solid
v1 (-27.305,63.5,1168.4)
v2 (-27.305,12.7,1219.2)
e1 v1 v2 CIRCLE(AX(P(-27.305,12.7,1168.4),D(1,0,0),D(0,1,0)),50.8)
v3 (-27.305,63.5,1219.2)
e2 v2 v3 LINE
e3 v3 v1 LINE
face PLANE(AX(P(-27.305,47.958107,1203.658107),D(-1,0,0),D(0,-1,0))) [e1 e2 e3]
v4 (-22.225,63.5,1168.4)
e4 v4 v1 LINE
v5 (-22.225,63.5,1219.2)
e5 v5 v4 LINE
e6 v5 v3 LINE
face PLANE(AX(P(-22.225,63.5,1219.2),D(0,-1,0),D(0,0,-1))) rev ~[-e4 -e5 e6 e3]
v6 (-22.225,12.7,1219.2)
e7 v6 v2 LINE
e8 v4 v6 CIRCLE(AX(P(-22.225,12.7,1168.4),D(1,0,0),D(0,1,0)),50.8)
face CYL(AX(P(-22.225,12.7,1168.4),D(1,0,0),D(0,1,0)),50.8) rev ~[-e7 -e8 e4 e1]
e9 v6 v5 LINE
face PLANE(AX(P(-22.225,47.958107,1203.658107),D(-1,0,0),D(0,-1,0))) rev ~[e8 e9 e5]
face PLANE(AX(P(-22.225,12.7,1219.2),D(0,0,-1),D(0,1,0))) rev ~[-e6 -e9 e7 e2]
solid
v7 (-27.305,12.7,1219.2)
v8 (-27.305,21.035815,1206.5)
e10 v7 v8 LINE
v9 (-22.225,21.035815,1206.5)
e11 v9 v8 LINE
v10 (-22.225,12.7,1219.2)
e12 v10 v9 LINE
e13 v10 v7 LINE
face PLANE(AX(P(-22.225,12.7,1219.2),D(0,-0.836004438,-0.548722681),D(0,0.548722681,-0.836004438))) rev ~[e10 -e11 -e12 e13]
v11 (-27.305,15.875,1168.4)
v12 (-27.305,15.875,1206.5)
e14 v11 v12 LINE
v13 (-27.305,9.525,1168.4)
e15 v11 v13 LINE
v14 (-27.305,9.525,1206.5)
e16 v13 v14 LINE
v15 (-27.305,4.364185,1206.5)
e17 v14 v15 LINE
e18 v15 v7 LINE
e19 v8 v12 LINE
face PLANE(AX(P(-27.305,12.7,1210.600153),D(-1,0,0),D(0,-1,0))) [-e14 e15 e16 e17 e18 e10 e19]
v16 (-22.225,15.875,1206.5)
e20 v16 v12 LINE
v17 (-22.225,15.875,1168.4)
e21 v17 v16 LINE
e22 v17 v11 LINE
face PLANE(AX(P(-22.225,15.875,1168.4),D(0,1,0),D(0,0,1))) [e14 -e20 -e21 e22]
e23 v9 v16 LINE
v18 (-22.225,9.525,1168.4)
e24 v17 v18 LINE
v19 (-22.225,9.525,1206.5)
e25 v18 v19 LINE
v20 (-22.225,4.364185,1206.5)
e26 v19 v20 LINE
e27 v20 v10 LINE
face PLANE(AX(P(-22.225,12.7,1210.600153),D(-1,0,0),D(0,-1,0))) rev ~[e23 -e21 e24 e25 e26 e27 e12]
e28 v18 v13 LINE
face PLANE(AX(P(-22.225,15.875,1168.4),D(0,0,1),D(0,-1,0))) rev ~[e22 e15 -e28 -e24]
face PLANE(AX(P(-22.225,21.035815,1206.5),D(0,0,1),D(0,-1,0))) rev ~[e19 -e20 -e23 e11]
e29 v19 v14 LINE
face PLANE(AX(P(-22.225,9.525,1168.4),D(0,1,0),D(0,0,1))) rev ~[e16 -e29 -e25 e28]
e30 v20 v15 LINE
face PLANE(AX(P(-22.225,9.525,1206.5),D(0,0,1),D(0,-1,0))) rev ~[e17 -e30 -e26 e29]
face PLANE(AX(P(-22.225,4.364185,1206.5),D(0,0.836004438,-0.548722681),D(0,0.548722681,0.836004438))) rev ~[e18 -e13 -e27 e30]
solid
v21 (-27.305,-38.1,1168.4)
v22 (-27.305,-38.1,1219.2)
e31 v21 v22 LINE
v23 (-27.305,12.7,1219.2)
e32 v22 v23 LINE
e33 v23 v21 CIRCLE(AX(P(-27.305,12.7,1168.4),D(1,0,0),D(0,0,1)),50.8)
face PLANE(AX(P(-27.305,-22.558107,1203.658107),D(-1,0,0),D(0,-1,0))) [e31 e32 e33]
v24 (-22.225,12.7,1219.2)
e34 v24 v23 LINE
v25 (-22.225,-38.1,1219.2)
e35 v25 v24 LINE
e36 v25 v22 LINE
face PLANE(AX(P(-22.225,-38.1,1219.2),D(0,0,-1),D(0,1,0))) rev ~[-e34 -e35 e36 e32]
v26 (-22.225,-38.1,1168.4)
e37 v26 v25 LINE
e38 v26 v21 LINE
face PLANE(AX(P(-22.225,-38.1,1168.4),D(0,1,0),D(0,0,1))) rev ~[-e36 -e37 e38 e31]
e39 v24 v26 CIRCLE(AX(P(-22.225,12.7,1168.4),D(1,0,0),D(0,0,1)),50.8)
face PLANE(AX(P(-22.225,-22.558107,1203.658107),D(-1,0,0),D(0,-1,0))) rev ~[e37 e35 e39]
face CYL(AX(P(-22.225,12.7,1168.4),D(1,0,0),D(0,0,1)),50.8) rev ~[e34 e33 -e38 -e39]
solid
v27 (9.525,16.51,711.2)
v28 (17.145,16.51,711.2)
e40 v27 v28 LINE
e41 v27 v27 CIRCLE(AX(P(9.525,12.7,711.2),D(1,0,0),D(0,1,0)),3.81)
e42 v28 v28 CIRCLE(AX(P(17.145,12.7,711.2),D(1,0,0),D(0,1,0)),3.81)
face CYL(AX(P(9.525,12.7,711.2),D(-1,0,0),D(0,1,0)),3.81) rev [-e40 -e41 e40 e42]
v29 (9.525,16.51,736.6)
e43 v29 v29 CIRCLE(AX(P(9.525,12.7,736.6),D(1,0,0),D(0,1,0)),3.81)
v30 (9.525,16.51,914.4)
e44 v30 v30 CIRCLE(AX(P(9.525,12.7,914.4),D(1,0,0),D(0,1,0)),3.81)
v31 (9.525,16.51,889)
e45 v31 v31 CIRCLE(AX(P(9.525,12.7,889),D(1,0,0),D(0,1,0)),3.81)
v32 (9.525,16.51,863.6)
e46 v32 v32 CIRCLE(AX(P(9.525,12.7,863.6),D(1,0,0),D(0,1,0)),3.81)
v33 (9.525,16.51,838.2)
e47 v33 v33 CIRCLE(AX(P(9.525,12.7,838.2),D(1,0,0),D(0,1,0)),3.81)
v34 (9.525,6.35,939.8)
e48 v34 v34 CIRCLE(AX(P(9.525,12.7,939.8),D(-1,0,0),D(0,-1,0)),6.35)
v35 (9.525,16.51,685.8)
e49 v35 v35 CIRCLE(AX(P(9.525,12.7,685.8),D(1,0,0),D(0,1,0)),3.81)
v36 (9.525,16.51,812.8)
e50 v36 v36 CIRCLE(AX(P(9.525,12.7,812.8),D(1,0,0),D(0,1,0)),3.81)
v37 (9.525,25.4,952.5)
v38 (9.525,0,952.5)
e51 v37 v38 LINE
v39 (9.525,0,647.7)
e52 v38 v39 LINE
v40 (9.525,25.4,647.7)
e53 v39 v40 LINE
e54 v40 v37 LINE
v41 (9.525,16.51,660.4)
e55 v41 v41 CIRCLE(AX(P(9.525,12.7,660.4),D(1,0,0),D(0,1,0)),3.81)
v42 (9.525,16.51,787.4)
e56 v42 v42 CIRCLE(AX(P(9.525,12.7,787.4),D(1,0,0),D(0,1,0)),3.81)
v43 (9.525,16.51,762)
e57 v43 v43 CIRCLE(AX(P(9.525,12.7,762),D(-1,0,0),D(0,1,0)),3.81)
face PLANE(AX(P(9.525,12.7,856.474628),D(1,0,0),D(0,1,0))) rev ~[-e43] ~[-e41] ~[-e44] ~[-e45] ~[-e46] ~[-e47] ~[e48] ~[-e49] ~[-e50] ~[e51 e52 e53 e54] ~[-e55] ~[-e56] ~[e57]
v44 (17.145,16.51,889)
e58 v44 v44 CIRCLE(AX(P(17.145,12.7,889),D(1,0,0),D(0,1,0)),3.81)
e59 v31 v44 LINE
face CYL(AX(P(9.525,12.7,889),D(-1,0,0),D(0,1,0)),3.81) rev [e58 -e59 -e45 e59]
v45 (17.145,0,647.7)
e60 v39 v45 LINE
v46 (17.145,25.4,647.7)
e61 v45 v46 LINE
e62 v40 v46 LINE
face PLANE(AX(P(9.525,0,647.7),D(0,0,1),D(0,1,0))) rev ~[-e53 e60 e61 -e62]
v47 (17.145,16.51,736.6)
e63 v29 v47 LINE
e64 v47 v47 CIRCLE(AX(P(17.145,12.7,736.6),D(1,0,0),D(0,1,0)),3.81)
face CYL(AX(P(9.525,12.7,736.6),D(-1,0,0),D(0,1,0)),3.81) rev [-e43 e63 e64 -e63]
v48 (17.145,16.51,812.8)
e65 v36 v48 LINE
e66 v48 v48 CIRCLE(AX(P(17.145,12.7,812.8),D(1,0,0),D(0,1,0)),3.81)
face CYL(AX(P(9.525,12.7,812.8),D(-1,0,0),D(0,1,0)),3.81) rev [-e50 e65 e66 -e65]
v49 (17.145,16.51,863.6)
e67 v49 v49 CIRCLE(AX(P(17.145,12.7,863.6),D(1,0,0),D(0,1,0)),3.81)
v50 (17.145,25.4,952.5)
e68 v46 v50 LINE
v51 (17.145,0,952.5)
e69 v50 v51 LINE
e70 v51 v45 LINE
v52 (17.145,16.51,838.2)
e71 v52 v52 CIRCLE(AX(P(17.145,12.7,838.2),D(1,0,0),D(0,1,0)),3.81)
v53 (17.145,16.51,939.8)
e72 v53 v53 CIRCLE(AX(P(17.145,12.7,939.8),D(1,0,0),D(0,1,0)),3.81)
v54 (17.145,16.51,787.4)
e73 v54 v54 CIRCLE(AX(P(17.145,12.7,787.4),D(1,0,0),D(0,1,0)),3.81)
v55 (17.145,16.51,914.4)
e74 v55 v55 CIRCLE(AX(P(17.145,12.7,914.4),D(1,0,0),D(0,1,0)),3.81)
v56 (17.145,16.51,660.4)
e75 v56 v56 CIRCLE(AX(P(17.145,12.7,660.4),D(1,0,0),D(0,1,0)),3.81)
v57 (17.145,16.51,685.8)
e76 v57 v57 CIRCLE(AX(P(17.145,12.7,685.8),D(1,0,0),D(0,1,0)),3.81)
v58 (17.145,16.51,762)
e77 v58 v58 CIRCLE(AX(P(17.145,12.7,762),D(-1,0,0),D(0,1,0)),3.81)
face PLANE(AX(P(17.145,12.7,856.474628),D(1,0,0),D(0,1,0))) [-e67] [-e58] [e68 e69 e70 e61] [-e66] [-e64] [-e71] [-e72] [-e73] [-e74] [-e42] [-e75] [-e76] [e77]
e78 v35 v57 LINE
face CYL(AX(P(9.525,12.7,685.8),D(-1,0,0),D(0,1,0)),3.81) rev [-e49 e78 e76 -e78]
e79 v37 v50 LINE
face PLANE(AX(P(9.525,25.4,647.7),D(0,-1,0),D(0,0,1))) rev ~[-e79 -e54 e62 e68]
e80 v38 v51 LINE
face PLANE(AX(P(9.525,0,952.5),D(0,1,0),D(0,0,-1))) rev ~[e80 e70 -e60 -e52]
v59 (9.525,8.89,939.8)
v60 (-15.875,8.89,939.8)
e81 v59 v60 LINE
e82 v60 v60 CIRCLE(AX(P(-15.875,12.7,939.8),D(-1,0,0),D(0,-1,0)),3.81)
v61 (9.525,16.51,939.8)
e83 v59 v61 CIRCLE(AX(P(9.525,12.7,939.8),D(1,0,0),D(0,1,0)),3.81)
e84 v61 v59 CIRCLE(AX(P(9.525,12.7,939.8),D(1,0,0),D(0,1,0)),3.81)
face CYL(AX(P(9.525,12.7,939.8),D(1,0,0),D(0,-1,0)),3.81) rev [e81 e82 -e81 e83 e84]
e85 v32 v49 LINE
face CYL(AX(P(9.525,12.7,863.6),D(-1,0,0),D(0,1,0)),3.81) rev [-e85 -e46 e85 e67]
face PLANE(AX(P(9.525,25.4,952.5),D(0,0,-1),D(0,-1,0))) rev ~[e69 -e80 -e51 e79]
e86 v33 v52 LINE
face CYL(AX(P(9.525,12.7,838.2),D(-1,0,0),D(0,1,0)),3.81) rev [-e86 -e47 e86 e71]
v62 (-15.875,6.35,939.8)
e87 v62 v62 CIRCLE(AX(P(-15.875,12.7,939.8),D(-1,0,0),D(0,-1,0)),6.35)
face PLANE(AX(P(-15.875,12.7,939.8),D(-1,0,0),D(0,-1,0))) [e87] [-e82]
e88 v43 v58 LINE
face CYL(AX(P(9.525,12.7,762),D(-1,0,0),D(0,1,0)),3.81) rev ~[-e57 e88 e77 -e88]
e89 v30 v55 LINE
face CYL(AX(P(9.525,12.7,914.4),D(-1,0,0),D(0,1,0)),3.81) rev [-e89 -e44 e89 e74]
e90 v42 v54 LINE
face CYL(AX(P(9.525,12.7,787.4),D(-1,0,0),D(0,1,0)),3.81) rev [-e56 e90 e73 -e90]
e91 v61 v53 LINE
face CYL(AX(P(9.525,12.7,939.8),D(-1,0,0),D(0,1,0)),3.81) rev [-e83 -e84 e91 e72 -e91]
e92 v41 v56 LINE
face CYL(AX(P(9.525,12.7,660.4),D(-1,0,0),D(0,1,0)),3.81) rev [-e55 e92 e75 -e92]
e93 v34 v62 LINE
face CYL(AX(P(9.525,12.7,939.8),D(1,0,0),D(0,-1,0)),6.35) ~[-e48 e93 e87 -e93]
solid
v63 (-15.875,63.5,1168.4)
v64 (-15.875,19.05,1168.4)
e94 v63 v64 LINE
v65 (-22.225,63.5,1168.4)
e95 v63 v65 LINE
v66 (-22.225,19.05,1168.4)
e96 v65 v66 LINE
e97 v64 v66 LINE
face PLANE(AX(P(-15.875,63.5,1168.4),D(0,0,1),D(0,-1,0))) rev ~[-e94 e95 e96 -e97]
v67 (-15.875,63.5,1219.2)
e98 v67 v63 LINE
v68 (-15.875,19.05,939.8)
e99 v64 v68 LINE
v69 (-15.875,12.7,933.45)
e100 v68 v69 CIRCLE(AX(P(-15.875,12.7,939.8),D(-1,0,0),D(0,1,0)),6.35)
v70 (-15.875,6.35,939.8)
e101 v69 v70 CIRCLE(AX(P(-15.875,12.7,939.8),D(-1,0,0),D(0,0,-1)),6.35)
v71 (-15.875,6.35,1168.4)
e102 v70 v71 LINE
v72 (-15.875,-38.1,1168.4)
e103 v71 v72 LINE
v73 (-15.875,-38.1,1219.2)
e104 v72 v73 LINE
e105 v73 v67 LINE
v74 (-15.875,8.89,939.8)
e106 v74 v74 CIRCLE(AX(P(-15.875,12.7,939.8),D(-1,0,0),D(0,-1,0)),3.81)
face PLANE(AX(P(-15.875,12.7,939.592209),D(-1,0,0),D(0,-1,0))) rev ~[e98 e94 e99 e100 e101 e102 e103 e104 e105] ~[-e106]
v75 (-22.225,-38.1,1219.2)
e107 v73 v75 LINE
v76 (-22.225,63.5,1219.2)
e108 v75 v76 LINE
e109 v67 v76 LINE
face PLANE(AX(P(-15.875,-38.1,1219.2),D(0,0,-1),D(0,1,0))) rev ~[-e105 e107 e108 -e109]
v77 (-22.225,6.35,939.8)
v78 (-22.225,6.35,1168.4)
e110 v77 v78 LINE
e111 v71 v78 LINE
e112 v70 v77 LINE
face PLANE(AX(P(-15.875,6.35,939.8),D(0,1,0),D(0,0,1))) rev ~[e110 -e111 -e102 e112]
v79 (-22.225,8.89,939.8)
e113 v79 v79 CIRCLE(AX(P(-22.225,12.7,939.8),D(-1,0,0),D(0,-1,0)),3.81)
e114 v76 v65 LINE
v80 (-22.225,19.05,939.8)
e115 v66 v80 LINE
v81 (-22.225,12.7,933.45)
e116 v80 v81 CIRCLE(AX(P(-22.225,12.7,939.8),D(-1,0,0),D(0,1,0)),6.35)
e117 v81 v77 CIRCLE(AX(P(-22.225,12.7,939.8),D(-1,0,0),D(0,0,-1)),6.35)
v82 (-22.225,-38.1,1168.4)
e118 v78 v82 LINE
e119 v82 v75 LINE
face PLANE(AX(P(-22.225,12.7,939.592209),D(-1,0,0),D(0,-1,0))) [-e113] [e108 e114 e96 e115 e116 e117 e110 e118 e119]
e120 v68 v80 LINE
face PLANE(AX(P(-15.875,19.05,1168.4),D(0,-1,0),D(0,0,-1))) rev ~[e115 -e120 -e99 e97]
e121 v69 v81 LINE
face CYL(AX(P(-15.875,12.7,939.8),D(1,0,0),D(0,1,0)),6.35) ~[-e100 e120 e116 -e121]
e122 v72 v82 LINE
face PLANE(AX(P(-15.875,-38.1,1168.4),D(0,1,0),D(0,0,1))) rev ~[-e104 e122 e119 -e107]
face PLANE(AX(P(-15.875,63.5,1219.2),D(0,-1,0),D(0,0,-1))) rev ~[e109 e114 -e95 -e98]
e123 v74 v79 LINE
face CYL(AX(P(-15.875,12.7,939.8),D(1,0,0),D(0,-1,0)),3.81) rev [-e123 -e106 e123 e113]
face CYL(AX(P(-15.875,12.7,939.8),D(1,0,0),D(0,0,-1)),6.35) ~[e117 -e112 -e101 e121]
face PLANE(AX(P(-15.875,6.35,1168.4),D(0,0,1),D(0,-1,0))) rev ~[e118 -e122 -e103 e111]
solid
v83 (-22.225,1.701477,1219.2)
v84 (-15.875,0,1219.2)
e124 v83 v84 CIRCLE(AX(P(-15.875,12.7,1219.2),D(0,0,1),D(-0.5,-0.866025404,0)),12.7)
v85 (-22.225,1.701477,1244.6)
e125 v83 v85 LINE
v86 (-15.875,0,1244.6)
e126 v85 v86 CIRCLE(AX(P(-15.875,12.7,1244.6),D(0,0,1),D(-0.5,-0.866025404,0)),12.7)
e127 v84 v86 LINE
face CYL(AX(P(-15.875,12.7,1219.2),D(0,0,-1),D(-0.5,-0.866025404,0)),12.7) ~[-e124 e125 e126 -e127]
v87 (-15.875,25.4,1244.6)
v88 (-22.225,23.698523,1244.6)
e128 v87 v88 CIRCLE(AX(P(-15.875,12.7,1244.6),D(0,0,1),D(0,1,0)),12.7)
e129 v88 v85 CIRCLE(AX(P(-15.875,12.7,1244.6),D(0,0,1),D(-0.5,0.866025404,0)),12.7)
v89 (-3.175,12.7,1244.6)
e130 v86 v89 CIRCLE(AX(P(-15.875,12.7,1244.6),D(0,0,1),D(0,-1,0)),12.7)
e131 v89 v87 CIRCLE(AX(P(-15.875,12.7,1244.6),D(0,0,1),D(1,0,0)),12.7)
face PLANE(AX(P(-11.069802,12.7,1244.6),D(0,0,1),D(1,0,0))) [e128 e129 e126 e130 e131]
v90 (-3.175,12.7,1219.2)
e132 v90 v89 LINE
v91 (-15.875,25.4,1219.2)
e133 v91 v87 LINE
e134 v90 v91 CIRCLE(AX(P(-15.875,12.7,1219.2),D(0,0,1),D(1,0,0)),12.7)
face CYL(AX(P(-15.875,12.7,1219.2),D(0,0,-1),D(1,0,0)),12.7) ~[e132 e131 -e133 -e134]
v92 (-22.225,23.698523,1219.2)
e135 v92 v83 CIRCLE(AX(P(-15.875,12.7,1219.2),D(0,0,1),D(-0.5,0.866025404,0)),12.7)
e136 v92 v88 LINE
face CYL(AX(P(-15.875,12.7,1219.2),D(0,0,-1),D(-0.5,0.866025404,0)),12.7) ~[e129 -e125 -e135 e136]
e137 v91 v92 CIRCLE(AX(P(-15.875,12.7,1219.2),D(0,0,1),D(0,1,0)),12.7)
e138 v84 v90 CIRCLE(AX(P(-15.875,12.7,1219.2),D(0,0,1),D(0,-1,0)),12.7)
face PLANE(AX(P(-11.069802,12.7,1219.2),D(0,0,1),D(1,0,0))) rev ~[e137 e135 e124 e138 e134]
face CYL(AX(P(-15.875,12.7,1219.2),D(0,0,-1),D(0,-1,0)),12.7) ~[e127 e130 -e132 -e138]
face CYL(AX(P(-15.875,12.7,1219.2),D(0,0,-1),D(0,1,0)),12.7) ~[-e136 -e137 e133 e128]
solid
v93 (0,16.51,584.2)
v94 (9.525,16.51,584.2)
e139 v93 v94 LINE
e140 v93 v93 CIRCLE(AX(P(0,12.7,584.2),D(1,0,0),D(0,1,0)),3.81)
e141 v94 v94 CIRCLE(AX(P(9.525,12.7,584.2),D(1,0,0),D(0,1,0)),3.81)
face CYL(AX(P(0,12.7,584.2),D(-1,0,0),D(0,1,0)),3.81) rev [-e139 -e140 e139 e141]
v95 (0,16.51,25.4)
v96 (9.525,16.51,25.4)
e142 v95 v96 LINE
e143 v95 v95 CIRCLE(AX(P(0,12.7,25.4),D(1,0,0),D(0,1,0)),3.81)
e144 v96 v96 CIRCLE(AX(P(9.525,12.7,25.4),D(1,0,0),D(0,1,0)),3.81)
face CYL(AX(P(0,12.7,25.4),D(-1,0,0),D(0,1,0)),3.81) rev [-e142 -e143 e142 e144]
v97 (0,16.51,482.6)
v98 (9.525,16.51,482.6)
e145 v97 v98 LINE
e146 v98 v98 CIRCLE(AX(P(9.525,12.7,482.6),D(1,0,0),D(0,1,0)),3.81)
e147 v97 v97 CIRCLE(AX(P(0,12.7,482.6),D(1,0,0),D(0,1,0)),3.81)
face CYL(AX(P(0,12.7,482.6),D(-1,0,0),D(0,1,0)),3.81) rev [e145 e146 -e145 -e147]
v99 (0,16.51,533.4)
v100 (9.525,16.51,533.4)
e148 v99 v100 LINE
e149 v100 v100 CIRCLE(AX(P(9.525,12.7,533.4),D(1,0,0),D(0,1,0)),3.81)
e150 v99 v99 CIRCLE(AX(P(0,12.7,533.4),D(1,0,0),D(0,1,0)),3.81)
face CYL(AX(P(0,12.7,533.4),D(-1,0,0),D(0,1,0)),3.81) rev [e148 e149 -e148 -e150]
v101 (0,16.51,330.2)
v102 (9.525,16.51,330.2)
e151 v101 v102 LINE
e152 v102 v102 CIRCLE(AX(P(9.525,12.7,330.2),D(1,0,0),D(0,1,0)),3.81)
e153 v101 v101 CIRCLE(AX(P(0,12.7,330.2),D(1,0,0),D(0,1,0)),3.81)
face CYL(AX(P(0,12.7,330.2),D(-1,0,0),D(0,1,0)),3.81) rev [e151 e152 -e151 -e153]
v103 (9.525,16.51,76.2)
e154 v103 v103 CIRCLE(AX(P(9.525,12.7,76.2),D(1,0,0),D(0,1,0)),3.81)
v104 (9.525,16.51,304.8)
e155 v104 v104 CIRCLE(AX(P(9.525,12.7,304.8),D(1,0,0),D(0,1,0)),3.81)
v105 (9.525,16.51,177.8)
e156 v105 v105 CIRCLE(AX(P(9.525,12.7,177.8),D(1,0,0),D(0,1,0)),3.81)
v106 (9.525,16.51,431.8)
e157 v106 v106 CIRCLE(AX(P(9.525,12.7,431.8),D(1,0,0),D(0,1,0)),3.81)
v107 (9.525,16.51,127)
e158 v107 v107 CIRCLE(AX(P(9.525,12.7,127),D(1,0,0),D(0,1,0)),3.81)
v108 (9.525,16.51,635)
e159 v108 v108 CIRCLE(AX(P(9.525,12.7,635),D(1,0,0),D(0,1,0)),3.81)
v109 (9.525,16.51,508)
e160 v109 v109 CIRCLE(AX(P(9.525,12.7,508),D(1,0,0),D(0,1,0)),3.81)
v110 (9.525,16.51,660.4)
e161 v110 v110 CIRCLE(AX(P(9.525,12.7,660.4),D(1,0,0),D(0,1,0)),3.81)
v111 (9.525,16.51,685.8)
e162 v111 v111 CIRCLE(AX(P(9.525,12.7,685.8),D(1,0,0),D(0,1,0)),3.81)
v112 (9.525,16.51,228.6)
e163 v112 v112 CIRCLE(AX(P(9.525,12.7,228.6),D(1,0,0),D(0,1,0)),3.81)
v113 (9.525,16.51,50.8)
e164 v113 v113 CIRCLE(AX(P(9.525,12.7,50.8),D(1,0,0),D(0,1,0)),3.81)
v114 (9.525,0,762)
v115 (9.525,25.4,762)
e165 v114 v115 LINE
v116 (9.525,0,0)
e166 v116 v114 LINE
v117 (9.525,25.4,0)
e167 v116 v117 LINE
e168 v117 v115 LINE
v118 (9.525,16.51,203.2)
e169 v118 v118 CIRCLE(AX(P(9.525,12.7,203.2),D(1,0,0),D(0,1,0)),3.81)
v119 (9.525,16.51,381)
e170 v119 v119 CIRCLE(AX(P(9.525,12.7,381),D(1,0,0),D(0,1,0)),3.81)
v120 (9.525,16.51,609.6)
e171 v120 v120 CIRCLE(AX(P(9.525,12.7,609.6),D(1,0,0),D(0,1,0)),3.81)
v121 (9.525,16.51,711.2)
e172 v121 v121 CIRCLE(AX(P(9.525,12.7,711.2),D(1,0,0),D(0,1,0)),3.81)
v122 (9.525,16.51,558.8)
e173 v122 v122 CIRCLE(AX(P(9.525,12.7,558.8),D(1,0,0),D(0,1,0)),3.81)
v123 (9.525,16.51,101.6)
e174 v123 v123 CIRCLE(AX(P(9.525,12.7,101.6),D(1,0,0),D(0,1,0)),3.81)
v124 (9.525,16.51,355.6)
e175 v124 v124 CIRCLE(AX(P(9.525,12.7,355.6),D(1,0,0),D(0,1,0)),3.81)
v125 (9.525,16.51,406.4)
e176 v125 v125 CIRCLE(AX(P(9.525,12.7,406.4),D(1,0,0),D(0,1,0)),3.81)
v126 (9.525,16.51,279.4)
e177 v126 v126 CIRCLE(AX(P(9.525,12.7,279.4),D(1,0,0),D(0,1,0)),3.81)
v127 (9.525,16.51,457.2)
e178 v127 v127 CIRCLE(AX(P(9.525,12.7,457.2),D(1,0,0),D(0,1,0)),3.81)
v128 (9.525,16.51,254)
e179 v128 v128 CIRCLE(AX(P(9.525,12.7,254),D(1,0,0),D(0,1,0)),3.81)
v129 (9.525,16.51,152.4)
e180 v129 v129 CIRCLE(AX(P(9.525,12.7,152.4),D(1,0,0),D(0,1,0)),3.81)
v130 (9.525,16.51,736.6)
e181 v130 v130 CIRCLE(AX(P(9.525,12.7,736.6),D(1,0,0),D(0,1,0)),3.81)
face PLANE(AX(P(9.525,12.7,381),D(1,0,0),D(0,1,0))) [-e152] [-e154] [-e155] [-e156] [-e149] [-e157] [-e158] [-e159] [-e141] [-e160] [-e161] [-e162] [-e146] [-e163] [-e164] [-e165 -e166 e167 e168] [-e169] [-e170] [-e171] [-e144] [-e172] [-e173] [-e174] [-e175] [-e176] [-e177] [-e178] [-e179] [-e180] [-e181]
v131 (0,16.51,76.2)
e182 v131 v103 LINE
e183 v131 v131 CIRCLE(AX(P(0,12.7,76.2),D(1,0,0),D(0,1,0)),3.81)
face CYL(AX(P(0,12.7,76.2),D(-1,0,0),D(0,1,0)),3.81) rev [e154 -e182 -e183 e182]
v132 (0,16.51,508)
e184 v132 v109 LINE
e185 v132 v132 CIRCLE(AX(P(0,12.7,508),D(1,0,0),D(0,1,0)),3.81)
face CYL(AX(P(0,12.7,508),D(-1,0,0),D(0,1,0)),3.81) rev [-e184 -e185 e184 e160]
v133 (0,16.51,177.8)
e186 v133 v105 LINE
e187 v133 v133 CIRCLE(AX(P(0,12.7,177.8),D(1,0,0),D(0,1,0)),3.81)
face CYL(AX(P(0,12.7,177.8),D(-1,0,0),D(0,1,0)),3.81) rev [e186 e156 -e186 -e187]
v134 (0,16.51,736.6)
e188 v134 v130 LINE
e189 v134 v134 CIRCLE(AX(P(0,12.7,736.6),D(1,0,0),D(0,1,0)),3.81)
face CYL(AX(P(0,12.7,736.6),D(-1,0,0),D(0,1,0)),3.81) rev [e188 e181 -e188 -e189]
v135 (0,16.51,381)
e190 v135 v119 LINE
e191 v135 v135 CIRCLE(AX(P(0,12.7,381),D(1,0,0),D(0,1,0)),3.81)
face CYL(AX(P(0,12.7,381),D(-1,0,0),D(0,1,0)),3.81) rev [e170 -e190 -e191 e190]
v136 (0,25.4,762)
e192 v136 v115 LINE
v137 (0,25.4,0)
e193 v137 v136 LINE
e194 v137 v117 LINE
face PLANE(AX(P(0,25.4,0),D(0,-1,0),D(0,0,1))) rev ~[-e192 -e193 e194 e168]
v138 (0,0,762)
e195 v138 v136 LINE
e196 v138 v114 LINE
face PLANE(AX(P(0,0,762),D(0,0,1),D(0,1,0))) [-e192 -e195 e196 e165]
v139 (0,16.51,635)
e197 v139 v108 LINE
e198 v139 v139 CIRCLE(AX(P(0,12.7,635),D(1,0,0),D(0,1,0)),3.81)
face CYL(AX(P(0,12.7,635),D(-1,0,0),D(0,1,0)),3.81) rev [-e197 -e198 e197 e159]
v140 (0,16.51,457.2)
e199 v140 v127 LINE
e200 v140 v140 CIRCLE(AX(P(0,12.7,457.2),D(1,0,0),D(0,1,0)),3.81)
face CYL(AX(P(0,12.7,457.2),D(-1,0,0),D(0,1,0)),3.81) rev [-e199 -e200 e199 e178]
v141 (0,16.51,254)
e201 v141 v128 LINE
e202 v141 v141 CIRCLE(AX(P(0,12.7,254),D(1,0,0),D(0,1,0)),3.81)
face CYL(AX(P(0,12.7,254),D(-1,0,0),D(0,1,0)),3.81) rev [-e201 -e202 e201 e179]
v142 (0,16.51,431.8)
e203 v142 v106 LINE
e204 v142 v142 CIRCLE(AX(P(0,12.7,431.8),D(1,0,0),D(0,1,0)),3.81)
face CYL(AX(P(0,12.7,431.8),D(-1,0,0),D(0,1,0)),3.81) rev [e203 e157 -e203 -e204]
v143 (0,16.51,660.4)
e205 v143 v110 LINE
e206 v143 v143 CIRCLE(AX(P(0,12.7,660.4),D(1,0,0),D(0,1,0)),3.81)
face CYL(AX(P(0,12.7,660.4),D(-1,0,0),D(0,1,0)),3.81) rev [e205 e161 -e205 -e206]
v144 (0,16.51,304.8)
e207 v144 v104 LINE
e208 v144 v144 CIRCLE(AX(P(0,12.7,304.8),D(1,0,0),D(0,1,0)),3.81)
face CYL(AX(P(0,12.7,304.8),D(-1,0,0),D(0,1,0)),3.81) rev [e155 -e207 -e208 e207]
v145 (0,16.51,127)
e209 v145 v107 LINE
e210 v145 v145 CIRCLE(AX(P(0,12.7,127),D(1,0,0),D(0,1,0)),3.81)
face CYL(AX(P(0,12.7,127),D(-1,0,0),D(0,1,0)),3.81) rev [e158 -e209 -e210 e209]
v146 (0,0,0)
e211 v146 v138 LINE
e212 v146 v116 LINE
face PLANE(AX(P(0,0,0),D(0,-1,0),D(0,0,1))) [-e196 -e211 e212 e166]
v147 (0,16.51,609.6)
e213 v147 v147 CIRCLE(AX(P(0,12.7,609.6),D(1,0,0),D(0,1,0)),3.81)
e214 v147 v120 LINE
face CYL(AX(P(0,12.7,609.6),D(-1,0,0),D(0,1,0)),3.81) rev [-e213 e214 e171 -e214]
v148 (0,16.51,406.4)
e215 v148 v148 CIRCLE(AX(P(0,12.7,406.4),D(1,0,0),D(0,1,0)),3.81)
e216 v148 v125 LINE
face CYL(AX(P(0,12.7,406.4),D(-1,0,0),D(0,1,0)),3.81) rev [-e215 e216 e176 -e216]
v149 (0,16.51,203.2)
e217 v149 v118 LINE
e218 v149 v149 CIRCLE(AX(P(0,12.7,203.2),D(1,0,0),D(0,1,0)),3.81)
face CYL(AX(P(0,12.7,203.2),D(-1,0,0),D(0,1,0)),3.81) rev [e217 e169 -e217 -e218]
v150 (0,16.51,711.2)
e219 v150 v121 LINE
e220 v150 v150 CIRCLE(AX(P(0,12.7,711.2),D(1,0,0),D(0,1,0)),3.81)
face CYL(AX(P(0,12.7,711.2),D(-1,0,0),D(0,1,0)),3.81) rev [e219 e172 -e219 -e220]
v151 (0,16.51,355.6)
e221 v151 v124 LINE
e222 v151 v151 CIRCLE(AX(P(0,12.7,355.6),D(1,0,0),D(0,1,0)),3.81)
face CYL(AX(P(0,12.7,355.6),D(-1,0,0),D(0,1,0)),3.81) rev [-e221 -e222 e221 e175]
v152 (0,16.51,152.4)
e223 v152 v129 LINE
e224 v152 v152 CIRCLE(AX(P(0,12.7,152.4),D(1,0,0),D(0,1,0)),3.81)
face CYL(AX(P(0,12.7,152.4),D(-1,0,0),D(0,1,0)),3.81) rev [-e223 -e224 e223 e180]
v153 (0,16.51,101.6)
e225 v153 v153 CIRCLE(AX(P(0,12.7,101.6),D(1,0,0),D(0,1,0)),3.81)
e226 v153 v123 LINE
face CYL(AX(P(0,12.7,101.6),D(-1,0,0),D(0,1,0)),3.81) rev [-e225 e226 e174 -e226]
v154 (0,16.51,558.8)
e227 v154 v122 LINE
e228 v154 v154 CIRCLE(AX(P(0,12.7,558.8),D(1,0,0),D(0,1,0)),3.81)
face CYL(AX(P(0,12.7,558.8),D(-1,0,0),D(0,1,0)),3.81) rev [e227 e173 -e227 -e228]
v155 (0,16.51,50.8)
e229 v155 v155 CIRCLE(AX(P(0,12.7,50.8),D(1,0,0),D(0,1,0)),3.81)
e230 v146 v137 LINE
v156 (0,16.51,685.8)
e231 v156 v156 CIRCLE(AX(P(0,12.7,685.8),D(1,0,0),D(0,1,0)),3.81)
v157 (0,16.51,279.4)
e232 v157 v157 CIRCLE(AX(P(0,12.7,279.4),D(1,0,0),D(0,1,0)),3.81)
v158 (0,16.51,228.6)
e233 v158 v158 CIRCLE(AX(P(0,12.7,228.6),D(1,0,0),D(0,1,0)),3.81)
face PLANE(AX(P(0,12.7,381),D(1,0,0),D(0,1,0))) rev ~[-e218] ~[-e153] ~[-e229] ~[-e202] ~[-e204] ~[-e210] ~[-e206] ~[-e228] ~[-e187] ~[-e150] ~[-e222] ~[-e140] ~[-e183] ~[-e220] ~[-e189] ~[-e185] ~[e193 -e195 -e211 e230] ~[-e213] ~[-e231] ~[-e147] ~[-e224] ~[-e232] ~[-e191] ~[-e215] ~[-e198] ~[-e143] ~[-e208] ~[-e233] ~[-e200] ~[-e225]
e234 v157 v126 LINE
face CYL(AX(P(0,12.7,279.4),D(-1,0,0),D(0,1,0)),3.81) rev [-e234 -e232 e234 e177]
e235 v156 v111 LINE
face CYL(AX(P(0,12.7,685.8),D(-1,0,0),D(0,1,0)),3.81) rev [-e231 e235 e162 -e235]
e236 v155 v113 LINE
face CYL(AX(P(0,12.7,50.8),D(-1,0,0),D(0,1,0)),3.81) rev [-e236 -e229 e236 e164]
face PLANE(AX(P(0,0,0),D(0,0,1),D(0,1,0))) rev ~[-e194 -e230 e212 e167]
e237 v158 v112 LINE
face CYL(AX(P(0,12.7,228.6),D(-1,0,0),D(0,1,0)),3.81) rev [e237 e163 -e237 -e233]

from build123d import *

# Parameters (mm, degrees)
F0_W      = 25.4
F0_H      = 762
F0_R      = 3.81
F1_DEPTH  = 9.525
F2_R      = 3.81
F3_DEPTH  = 7.62
F4_R      = 6.35
F4_R_2    = 3.81
F5_DEPTH  = 25.4
F6_R      = 3.81
F6_W      = 12.7
F6_H      = 25.4
F7_DEPTH  = 6.35
F8_W      = 6.35
F8_H      = 38.1
F9_DEPTH  = 5.08
F11_DEPTH = 25.4


with BuildPart() as f1:
    # F0 (on Right) → F1 (new body)
    with BuildSketch(Plane.YZ):
        with Locations((12.7, 381)):
            Rectangle(F0_W, F0_H)
        with Locations((12.7, 25.4)):
            Circle(F0_R, mode=Mode.SUBTRACT)
        with Locations((12.7, 50.8)):
            Circle(F0_R, mode=Mode.SUBTRACT)
        with Locations((12.7, 76.2)):
            Circle(F0_R, mode=Mode.SUBTRACT)
        with Locations((12.7, 101.6)):
            Circle(F0_R, mode=Mode.SUBTRACT)
        with Locations((12.7, 127)):
            Circle(F0_R, mode=Mode.SUBTRACT)
        with Locations((12.7, 152.4)):
            Circle(F0_R, mode=Mode.SUBTRACT)
        with Locations((12.7, 177.8)):
            Circle(F0_R, mode=Mode.SUBTRACT)
        with Locations((12.7, 203.2)):
            Circle(F0_R, mode=Mode.SUBTRACT)
        with Locations((12.7, 228.6)):
            Circle(F0_R, mode=Mode.SUBTRACT)
        with Locations((12.7, 254)):
            Circle(F0_R, mode=Mode.SUBTRACT)
        with Locations((12.7, 279.4)):
            Circle(F0_R, mode=Mode.SUBTRACT)
        with Locations((12.7, 304.8)):
            Circle(F0_R, mode=Mode.SUBTRACT)
        with Locations((12.7, 330.2)):
            Circle(F0_R, mode=Mode.SUBTRACT)
        with Locations((12.7, 355.6)):
            Circle(F0_R, mode=Mode.SUBTRACT)
        with Locations((12.7, 381)):
            Circle(F0_R, mode=Mode.SUBTRACT)
        with Locations((12.7, 406.4)):
            Circle(F0_R, mode=Mode.SUBTRACT)
        with Locations((12.7, 431.8)):
            Circle(F0_R, mode=Mode.SUBTRACT)
        with Locations((12.7, 457.2)):
            Circle(F0_R, mode=Mode.SUBTRACT)
        with Locations((12.7, 482.6)):
            Circle(F0_R, mode=Mode.SUBTRACT)
        with Locations((12.7, 508)):
            Circle(F0_R, mode=Mode.SUBTRACT)
        with Locations((12.7, 533.4)):
            Circle(F0_R, mode=Mode.SUBTRACT)
        with Locations((12.7, 558.8)):
            Circle(F0_R, mode=Mode.SUBTRACT)
        with Locations((12.7, 584.2)):
            Circle(F0_R, mode=Mode.SUBTRACT)
        with Locations((12.7, 609.6)):
            Circle(F0_R, mode=Mode.SUBTRACT)
        with Locations((12.7, 635)):
            Circle(F0_R, mode=Mode.SUBTRACT)
        with Locations((12.7, 660.4)):
            Circle(F0_R, mode=Mode.SUBTRACT)
        with Locations((12.7, 685.8)):
            Circle(F0_R, mode=Mode.SUBTRACT)
        with Locations((12.7, 711.2)):
            Circle(F0_R, mode=Mode.SUBTRACT)
        with Locations((12.7, 736.6)):
            Circle(F0_R, mode=Mode.SUBTRACT)
    extrude(amount=F1_DEPTH)


with BuildPart() as f3:
    # F2 (on face) → F3 (new body)
    with BuildSketch(Plane.YZ.offset(9.525)):
        with BuildLine():
            Line((25.4, 952.5), (0, 952.5))
            Line((0, 952.5), (0, 762))
            Line((0, 762), (8.89, 762))
            ThreePointArc((8.89, 762), (12.7, 765.81), (16.51, 762))
            Line((16.51, 762), (25.4, 762))
            Line((25.4, 762), (25.4, 952.5))
        make_face()
        with Locations((12.7, 787.4)):
            Circle(F2_R, mode=Mode.SUBTRACT)
        with Locations((12.7, 812.8)):
            Circle(F2_R, mode=Mode.SUBTRACT)
        with Locations((12.7, 838.2)):
            Circle(F2_R, mode=Mode.SUBTRACT)
        with Locations((12.7, 863.6)):
            Circle(F2_R, mode=Mode.SUBTRACT)
        with Locations((12.7, 889)):
            Circle(F2_R, mode=Mode.SUBTRACT)
        with Locations((12.7, 914.4)):
            Circle(F2_R, mode=Mode.SUBTRACT)
        with Locations((12.7, 939.8)):
            Circle(F2_R, mode=Mode.SUBTRACT)
        with BuildLine():
            Line((8.89, 762), (0, 762))
            Line((0, 762), (0, 647.7))
            Line((0, 647.7), (25.4, 647.7))
            Line((25.4, 647.7), (25.4, 762))
            Line((25.4, 762), (16.51, 762))
            ThreePointArc((16.51, 762), (12.7, 758.19), (8.89, 762))
        make_face()
        with Locations((12.7, 660.4)):
            Circle(F2_R, mode=Mode.SUBTRACT)
        with Locations((12.7, 685.8)):
            Circle(F2_R, mode=Mode.SUBTRACT)
        with Locations((12.7, 711.2)):
            Circle(F2_R, mode=Mode.SUBTRACT)
        with Locations((12.7, 736.6)):
            Circle(F2_R, mode=Mode.SUBTRACT)
    extrude(amount=F3_DEPTH)

    # F4 (on face) → F5 (join)
    with BuildSketch(Plane(origin=(9.525, 0, 0), x_dir=(0, -1, 0), z_dir=(-1, 0, 0))):
        with Locations((-12.7, 939.8)):
            Circle(F4_R)
        with Locations((-12.7, 939.8)):
            Circle(F4_R_2, mode=Mode.SUBTRACT)
    extrude(amount=F5_DEPTH)


with BuildPart() as f7:
    # F6 (on face) → F7 (new body)
    with BuildSketch(Plane(origin=(-15.875, 0, 0), x_dir=(0, -1, 0), z_dir=(-1, 0, 0))):
        with BuildLine():
            ThreePointArc((-6.35, 939.8), (-12.7, 946.15), (-19.05, 939.8))
            ThreePointArc((-19.05, 939.8), (-17.1901280605, 935.3098719395), (-12.7, 933.45))
            ThreePointArc((-12.7, 933.45), (-8.2098719395, 935.3098719395), (-6.35, 939.8))
        make_face()
        with Locations((-12.7, 939.8)):
            Circle(F6_R, mode=Mode.SUBTRACT)
        Polygon((-19.05, 1168.4), (-19.05, 1193.8), (-6.35, 1193.8), (-6.35, 1168.4), (38.1, 1168.4), (38.1, 1219.2), (-63.5, 1219.2), (-63.5, 1168.4), align=None)
        with Locations((-12.7, 1181.1)):
            Rectangle(F6_W, F6_H)
        with BuildLine():
            Line((-6.35, 1168.4), (-19.05, 1168.4))
            Line((-19.05, 1168.4), (-19.05, 939.8))
            ThreePointArc((-19.05, 939.8), (-12.7, 946.15), (-6.35, 939.8))
            Line((-6.35, 939.8), (-6.35, 1168.4))
        make_face()
    extrude(amount=F7_DEPTH)


with BuildPart() as f9:
    # F8 (on face) → F9 (new body)
    with BuildSketch(Plane(origin=(-22.225, 0, 0), x_dir=(0, -1, 0), z_dir=(-1, 0, 0))):
        Polygon((-4.3641853422, 1206.5), (-12.7, 1219.2), (-21.0358146578, 1206.5), (-15.875, 1206.5), (-9.525, 1206.5), align=None)
        with Locations((-12.7, 1187.45)):
            Rectangle(F8_W, F8_H)
    extrude(amount=F9_DEPTH)


with BuildPart() as f9b:
    # F8 (on face) → F9, piece 2 (new body)
    with BuildSketch(Plane(origin=(-22.225, 0, 0), x_dir=(0, -1, 0), z_dir=(-1, 0, 0))):
        with BuildLine():
            ThreePointArc((-63.5, 1168.4), (-48.6210244843, 1204.3210244843), (-12.7, 1219.2))
            Line((-12.7, 1219.2), (-63.5, 1219.2))
            Line((-63.5, 1219.2), (-63.5, 1168.4))
        make_face()
    extrude(amount=F9_DEPTH)


with BuildPart() as f9c:
    # F8 (on face) → F9, piece 3 (new body)
    with BuildSketch(Plane(origin=(-22.225, 0, 0), x_dir=(0, -1, 0), z_dir=(-1, 0, 0))):
        with BuildLine():
            ThreePointArc((-12.7, 1219.2), (23.2210244843, 1204.3210244843), (38.1, 1168.4))
            Line((38.1, 1168.4), (38.1, 1219.2))
            Line((38.1, 1219.2), (-12.7, 1219.2))
        make_face()
    extrude(amount=F9_DEPTH)


with BuildPart() as f11:
    # F10 (on face) → F11 (new body)
    with BuildSketch(Plane.XY.offset(1219.2)):
        with BuildLine():
            ThreePointArc((-15.875, 0), (-6.8947438789, 3.7197438789), (-3.175, 12.7))
            ThreePointArc((-3.175, 12.7), (-6.8947438789, 21.6802561211), (-15.875, 25.4))
            Line((-15.875, 25.4), (-15.875, 0))
        make_face()
        with BuildLine():
            Line((-15.875, 0), (-15.875, 25.4))
            ThreePointArc((-15.875, 25.4), (-19.1620018728, 24.9672579939), (-22.225, 23.6985226281))
            Line((-22.225, 23.6985226281), (-22.225, 1.7014773719))
            ThreePointArc((-22.225, 1.7014773719), (-19.1620018728, 0.4327420061), (-15.875, 0))
        make_face()
        with BuildLine():
            Line((-22.225, 1.7014773719), (-22.225, 23.6985226281))
            ThreePointArc((-22.225, 23.6985226281), (-28.575, 12.7), (-22.225, 1.7014773719))
        make_face()
    extrude(amount=F11_DEPTH)


solid = Compound([f1.part, f3.part, f7.part, f9.part, f9b.part, f9c.part, f11.part])
